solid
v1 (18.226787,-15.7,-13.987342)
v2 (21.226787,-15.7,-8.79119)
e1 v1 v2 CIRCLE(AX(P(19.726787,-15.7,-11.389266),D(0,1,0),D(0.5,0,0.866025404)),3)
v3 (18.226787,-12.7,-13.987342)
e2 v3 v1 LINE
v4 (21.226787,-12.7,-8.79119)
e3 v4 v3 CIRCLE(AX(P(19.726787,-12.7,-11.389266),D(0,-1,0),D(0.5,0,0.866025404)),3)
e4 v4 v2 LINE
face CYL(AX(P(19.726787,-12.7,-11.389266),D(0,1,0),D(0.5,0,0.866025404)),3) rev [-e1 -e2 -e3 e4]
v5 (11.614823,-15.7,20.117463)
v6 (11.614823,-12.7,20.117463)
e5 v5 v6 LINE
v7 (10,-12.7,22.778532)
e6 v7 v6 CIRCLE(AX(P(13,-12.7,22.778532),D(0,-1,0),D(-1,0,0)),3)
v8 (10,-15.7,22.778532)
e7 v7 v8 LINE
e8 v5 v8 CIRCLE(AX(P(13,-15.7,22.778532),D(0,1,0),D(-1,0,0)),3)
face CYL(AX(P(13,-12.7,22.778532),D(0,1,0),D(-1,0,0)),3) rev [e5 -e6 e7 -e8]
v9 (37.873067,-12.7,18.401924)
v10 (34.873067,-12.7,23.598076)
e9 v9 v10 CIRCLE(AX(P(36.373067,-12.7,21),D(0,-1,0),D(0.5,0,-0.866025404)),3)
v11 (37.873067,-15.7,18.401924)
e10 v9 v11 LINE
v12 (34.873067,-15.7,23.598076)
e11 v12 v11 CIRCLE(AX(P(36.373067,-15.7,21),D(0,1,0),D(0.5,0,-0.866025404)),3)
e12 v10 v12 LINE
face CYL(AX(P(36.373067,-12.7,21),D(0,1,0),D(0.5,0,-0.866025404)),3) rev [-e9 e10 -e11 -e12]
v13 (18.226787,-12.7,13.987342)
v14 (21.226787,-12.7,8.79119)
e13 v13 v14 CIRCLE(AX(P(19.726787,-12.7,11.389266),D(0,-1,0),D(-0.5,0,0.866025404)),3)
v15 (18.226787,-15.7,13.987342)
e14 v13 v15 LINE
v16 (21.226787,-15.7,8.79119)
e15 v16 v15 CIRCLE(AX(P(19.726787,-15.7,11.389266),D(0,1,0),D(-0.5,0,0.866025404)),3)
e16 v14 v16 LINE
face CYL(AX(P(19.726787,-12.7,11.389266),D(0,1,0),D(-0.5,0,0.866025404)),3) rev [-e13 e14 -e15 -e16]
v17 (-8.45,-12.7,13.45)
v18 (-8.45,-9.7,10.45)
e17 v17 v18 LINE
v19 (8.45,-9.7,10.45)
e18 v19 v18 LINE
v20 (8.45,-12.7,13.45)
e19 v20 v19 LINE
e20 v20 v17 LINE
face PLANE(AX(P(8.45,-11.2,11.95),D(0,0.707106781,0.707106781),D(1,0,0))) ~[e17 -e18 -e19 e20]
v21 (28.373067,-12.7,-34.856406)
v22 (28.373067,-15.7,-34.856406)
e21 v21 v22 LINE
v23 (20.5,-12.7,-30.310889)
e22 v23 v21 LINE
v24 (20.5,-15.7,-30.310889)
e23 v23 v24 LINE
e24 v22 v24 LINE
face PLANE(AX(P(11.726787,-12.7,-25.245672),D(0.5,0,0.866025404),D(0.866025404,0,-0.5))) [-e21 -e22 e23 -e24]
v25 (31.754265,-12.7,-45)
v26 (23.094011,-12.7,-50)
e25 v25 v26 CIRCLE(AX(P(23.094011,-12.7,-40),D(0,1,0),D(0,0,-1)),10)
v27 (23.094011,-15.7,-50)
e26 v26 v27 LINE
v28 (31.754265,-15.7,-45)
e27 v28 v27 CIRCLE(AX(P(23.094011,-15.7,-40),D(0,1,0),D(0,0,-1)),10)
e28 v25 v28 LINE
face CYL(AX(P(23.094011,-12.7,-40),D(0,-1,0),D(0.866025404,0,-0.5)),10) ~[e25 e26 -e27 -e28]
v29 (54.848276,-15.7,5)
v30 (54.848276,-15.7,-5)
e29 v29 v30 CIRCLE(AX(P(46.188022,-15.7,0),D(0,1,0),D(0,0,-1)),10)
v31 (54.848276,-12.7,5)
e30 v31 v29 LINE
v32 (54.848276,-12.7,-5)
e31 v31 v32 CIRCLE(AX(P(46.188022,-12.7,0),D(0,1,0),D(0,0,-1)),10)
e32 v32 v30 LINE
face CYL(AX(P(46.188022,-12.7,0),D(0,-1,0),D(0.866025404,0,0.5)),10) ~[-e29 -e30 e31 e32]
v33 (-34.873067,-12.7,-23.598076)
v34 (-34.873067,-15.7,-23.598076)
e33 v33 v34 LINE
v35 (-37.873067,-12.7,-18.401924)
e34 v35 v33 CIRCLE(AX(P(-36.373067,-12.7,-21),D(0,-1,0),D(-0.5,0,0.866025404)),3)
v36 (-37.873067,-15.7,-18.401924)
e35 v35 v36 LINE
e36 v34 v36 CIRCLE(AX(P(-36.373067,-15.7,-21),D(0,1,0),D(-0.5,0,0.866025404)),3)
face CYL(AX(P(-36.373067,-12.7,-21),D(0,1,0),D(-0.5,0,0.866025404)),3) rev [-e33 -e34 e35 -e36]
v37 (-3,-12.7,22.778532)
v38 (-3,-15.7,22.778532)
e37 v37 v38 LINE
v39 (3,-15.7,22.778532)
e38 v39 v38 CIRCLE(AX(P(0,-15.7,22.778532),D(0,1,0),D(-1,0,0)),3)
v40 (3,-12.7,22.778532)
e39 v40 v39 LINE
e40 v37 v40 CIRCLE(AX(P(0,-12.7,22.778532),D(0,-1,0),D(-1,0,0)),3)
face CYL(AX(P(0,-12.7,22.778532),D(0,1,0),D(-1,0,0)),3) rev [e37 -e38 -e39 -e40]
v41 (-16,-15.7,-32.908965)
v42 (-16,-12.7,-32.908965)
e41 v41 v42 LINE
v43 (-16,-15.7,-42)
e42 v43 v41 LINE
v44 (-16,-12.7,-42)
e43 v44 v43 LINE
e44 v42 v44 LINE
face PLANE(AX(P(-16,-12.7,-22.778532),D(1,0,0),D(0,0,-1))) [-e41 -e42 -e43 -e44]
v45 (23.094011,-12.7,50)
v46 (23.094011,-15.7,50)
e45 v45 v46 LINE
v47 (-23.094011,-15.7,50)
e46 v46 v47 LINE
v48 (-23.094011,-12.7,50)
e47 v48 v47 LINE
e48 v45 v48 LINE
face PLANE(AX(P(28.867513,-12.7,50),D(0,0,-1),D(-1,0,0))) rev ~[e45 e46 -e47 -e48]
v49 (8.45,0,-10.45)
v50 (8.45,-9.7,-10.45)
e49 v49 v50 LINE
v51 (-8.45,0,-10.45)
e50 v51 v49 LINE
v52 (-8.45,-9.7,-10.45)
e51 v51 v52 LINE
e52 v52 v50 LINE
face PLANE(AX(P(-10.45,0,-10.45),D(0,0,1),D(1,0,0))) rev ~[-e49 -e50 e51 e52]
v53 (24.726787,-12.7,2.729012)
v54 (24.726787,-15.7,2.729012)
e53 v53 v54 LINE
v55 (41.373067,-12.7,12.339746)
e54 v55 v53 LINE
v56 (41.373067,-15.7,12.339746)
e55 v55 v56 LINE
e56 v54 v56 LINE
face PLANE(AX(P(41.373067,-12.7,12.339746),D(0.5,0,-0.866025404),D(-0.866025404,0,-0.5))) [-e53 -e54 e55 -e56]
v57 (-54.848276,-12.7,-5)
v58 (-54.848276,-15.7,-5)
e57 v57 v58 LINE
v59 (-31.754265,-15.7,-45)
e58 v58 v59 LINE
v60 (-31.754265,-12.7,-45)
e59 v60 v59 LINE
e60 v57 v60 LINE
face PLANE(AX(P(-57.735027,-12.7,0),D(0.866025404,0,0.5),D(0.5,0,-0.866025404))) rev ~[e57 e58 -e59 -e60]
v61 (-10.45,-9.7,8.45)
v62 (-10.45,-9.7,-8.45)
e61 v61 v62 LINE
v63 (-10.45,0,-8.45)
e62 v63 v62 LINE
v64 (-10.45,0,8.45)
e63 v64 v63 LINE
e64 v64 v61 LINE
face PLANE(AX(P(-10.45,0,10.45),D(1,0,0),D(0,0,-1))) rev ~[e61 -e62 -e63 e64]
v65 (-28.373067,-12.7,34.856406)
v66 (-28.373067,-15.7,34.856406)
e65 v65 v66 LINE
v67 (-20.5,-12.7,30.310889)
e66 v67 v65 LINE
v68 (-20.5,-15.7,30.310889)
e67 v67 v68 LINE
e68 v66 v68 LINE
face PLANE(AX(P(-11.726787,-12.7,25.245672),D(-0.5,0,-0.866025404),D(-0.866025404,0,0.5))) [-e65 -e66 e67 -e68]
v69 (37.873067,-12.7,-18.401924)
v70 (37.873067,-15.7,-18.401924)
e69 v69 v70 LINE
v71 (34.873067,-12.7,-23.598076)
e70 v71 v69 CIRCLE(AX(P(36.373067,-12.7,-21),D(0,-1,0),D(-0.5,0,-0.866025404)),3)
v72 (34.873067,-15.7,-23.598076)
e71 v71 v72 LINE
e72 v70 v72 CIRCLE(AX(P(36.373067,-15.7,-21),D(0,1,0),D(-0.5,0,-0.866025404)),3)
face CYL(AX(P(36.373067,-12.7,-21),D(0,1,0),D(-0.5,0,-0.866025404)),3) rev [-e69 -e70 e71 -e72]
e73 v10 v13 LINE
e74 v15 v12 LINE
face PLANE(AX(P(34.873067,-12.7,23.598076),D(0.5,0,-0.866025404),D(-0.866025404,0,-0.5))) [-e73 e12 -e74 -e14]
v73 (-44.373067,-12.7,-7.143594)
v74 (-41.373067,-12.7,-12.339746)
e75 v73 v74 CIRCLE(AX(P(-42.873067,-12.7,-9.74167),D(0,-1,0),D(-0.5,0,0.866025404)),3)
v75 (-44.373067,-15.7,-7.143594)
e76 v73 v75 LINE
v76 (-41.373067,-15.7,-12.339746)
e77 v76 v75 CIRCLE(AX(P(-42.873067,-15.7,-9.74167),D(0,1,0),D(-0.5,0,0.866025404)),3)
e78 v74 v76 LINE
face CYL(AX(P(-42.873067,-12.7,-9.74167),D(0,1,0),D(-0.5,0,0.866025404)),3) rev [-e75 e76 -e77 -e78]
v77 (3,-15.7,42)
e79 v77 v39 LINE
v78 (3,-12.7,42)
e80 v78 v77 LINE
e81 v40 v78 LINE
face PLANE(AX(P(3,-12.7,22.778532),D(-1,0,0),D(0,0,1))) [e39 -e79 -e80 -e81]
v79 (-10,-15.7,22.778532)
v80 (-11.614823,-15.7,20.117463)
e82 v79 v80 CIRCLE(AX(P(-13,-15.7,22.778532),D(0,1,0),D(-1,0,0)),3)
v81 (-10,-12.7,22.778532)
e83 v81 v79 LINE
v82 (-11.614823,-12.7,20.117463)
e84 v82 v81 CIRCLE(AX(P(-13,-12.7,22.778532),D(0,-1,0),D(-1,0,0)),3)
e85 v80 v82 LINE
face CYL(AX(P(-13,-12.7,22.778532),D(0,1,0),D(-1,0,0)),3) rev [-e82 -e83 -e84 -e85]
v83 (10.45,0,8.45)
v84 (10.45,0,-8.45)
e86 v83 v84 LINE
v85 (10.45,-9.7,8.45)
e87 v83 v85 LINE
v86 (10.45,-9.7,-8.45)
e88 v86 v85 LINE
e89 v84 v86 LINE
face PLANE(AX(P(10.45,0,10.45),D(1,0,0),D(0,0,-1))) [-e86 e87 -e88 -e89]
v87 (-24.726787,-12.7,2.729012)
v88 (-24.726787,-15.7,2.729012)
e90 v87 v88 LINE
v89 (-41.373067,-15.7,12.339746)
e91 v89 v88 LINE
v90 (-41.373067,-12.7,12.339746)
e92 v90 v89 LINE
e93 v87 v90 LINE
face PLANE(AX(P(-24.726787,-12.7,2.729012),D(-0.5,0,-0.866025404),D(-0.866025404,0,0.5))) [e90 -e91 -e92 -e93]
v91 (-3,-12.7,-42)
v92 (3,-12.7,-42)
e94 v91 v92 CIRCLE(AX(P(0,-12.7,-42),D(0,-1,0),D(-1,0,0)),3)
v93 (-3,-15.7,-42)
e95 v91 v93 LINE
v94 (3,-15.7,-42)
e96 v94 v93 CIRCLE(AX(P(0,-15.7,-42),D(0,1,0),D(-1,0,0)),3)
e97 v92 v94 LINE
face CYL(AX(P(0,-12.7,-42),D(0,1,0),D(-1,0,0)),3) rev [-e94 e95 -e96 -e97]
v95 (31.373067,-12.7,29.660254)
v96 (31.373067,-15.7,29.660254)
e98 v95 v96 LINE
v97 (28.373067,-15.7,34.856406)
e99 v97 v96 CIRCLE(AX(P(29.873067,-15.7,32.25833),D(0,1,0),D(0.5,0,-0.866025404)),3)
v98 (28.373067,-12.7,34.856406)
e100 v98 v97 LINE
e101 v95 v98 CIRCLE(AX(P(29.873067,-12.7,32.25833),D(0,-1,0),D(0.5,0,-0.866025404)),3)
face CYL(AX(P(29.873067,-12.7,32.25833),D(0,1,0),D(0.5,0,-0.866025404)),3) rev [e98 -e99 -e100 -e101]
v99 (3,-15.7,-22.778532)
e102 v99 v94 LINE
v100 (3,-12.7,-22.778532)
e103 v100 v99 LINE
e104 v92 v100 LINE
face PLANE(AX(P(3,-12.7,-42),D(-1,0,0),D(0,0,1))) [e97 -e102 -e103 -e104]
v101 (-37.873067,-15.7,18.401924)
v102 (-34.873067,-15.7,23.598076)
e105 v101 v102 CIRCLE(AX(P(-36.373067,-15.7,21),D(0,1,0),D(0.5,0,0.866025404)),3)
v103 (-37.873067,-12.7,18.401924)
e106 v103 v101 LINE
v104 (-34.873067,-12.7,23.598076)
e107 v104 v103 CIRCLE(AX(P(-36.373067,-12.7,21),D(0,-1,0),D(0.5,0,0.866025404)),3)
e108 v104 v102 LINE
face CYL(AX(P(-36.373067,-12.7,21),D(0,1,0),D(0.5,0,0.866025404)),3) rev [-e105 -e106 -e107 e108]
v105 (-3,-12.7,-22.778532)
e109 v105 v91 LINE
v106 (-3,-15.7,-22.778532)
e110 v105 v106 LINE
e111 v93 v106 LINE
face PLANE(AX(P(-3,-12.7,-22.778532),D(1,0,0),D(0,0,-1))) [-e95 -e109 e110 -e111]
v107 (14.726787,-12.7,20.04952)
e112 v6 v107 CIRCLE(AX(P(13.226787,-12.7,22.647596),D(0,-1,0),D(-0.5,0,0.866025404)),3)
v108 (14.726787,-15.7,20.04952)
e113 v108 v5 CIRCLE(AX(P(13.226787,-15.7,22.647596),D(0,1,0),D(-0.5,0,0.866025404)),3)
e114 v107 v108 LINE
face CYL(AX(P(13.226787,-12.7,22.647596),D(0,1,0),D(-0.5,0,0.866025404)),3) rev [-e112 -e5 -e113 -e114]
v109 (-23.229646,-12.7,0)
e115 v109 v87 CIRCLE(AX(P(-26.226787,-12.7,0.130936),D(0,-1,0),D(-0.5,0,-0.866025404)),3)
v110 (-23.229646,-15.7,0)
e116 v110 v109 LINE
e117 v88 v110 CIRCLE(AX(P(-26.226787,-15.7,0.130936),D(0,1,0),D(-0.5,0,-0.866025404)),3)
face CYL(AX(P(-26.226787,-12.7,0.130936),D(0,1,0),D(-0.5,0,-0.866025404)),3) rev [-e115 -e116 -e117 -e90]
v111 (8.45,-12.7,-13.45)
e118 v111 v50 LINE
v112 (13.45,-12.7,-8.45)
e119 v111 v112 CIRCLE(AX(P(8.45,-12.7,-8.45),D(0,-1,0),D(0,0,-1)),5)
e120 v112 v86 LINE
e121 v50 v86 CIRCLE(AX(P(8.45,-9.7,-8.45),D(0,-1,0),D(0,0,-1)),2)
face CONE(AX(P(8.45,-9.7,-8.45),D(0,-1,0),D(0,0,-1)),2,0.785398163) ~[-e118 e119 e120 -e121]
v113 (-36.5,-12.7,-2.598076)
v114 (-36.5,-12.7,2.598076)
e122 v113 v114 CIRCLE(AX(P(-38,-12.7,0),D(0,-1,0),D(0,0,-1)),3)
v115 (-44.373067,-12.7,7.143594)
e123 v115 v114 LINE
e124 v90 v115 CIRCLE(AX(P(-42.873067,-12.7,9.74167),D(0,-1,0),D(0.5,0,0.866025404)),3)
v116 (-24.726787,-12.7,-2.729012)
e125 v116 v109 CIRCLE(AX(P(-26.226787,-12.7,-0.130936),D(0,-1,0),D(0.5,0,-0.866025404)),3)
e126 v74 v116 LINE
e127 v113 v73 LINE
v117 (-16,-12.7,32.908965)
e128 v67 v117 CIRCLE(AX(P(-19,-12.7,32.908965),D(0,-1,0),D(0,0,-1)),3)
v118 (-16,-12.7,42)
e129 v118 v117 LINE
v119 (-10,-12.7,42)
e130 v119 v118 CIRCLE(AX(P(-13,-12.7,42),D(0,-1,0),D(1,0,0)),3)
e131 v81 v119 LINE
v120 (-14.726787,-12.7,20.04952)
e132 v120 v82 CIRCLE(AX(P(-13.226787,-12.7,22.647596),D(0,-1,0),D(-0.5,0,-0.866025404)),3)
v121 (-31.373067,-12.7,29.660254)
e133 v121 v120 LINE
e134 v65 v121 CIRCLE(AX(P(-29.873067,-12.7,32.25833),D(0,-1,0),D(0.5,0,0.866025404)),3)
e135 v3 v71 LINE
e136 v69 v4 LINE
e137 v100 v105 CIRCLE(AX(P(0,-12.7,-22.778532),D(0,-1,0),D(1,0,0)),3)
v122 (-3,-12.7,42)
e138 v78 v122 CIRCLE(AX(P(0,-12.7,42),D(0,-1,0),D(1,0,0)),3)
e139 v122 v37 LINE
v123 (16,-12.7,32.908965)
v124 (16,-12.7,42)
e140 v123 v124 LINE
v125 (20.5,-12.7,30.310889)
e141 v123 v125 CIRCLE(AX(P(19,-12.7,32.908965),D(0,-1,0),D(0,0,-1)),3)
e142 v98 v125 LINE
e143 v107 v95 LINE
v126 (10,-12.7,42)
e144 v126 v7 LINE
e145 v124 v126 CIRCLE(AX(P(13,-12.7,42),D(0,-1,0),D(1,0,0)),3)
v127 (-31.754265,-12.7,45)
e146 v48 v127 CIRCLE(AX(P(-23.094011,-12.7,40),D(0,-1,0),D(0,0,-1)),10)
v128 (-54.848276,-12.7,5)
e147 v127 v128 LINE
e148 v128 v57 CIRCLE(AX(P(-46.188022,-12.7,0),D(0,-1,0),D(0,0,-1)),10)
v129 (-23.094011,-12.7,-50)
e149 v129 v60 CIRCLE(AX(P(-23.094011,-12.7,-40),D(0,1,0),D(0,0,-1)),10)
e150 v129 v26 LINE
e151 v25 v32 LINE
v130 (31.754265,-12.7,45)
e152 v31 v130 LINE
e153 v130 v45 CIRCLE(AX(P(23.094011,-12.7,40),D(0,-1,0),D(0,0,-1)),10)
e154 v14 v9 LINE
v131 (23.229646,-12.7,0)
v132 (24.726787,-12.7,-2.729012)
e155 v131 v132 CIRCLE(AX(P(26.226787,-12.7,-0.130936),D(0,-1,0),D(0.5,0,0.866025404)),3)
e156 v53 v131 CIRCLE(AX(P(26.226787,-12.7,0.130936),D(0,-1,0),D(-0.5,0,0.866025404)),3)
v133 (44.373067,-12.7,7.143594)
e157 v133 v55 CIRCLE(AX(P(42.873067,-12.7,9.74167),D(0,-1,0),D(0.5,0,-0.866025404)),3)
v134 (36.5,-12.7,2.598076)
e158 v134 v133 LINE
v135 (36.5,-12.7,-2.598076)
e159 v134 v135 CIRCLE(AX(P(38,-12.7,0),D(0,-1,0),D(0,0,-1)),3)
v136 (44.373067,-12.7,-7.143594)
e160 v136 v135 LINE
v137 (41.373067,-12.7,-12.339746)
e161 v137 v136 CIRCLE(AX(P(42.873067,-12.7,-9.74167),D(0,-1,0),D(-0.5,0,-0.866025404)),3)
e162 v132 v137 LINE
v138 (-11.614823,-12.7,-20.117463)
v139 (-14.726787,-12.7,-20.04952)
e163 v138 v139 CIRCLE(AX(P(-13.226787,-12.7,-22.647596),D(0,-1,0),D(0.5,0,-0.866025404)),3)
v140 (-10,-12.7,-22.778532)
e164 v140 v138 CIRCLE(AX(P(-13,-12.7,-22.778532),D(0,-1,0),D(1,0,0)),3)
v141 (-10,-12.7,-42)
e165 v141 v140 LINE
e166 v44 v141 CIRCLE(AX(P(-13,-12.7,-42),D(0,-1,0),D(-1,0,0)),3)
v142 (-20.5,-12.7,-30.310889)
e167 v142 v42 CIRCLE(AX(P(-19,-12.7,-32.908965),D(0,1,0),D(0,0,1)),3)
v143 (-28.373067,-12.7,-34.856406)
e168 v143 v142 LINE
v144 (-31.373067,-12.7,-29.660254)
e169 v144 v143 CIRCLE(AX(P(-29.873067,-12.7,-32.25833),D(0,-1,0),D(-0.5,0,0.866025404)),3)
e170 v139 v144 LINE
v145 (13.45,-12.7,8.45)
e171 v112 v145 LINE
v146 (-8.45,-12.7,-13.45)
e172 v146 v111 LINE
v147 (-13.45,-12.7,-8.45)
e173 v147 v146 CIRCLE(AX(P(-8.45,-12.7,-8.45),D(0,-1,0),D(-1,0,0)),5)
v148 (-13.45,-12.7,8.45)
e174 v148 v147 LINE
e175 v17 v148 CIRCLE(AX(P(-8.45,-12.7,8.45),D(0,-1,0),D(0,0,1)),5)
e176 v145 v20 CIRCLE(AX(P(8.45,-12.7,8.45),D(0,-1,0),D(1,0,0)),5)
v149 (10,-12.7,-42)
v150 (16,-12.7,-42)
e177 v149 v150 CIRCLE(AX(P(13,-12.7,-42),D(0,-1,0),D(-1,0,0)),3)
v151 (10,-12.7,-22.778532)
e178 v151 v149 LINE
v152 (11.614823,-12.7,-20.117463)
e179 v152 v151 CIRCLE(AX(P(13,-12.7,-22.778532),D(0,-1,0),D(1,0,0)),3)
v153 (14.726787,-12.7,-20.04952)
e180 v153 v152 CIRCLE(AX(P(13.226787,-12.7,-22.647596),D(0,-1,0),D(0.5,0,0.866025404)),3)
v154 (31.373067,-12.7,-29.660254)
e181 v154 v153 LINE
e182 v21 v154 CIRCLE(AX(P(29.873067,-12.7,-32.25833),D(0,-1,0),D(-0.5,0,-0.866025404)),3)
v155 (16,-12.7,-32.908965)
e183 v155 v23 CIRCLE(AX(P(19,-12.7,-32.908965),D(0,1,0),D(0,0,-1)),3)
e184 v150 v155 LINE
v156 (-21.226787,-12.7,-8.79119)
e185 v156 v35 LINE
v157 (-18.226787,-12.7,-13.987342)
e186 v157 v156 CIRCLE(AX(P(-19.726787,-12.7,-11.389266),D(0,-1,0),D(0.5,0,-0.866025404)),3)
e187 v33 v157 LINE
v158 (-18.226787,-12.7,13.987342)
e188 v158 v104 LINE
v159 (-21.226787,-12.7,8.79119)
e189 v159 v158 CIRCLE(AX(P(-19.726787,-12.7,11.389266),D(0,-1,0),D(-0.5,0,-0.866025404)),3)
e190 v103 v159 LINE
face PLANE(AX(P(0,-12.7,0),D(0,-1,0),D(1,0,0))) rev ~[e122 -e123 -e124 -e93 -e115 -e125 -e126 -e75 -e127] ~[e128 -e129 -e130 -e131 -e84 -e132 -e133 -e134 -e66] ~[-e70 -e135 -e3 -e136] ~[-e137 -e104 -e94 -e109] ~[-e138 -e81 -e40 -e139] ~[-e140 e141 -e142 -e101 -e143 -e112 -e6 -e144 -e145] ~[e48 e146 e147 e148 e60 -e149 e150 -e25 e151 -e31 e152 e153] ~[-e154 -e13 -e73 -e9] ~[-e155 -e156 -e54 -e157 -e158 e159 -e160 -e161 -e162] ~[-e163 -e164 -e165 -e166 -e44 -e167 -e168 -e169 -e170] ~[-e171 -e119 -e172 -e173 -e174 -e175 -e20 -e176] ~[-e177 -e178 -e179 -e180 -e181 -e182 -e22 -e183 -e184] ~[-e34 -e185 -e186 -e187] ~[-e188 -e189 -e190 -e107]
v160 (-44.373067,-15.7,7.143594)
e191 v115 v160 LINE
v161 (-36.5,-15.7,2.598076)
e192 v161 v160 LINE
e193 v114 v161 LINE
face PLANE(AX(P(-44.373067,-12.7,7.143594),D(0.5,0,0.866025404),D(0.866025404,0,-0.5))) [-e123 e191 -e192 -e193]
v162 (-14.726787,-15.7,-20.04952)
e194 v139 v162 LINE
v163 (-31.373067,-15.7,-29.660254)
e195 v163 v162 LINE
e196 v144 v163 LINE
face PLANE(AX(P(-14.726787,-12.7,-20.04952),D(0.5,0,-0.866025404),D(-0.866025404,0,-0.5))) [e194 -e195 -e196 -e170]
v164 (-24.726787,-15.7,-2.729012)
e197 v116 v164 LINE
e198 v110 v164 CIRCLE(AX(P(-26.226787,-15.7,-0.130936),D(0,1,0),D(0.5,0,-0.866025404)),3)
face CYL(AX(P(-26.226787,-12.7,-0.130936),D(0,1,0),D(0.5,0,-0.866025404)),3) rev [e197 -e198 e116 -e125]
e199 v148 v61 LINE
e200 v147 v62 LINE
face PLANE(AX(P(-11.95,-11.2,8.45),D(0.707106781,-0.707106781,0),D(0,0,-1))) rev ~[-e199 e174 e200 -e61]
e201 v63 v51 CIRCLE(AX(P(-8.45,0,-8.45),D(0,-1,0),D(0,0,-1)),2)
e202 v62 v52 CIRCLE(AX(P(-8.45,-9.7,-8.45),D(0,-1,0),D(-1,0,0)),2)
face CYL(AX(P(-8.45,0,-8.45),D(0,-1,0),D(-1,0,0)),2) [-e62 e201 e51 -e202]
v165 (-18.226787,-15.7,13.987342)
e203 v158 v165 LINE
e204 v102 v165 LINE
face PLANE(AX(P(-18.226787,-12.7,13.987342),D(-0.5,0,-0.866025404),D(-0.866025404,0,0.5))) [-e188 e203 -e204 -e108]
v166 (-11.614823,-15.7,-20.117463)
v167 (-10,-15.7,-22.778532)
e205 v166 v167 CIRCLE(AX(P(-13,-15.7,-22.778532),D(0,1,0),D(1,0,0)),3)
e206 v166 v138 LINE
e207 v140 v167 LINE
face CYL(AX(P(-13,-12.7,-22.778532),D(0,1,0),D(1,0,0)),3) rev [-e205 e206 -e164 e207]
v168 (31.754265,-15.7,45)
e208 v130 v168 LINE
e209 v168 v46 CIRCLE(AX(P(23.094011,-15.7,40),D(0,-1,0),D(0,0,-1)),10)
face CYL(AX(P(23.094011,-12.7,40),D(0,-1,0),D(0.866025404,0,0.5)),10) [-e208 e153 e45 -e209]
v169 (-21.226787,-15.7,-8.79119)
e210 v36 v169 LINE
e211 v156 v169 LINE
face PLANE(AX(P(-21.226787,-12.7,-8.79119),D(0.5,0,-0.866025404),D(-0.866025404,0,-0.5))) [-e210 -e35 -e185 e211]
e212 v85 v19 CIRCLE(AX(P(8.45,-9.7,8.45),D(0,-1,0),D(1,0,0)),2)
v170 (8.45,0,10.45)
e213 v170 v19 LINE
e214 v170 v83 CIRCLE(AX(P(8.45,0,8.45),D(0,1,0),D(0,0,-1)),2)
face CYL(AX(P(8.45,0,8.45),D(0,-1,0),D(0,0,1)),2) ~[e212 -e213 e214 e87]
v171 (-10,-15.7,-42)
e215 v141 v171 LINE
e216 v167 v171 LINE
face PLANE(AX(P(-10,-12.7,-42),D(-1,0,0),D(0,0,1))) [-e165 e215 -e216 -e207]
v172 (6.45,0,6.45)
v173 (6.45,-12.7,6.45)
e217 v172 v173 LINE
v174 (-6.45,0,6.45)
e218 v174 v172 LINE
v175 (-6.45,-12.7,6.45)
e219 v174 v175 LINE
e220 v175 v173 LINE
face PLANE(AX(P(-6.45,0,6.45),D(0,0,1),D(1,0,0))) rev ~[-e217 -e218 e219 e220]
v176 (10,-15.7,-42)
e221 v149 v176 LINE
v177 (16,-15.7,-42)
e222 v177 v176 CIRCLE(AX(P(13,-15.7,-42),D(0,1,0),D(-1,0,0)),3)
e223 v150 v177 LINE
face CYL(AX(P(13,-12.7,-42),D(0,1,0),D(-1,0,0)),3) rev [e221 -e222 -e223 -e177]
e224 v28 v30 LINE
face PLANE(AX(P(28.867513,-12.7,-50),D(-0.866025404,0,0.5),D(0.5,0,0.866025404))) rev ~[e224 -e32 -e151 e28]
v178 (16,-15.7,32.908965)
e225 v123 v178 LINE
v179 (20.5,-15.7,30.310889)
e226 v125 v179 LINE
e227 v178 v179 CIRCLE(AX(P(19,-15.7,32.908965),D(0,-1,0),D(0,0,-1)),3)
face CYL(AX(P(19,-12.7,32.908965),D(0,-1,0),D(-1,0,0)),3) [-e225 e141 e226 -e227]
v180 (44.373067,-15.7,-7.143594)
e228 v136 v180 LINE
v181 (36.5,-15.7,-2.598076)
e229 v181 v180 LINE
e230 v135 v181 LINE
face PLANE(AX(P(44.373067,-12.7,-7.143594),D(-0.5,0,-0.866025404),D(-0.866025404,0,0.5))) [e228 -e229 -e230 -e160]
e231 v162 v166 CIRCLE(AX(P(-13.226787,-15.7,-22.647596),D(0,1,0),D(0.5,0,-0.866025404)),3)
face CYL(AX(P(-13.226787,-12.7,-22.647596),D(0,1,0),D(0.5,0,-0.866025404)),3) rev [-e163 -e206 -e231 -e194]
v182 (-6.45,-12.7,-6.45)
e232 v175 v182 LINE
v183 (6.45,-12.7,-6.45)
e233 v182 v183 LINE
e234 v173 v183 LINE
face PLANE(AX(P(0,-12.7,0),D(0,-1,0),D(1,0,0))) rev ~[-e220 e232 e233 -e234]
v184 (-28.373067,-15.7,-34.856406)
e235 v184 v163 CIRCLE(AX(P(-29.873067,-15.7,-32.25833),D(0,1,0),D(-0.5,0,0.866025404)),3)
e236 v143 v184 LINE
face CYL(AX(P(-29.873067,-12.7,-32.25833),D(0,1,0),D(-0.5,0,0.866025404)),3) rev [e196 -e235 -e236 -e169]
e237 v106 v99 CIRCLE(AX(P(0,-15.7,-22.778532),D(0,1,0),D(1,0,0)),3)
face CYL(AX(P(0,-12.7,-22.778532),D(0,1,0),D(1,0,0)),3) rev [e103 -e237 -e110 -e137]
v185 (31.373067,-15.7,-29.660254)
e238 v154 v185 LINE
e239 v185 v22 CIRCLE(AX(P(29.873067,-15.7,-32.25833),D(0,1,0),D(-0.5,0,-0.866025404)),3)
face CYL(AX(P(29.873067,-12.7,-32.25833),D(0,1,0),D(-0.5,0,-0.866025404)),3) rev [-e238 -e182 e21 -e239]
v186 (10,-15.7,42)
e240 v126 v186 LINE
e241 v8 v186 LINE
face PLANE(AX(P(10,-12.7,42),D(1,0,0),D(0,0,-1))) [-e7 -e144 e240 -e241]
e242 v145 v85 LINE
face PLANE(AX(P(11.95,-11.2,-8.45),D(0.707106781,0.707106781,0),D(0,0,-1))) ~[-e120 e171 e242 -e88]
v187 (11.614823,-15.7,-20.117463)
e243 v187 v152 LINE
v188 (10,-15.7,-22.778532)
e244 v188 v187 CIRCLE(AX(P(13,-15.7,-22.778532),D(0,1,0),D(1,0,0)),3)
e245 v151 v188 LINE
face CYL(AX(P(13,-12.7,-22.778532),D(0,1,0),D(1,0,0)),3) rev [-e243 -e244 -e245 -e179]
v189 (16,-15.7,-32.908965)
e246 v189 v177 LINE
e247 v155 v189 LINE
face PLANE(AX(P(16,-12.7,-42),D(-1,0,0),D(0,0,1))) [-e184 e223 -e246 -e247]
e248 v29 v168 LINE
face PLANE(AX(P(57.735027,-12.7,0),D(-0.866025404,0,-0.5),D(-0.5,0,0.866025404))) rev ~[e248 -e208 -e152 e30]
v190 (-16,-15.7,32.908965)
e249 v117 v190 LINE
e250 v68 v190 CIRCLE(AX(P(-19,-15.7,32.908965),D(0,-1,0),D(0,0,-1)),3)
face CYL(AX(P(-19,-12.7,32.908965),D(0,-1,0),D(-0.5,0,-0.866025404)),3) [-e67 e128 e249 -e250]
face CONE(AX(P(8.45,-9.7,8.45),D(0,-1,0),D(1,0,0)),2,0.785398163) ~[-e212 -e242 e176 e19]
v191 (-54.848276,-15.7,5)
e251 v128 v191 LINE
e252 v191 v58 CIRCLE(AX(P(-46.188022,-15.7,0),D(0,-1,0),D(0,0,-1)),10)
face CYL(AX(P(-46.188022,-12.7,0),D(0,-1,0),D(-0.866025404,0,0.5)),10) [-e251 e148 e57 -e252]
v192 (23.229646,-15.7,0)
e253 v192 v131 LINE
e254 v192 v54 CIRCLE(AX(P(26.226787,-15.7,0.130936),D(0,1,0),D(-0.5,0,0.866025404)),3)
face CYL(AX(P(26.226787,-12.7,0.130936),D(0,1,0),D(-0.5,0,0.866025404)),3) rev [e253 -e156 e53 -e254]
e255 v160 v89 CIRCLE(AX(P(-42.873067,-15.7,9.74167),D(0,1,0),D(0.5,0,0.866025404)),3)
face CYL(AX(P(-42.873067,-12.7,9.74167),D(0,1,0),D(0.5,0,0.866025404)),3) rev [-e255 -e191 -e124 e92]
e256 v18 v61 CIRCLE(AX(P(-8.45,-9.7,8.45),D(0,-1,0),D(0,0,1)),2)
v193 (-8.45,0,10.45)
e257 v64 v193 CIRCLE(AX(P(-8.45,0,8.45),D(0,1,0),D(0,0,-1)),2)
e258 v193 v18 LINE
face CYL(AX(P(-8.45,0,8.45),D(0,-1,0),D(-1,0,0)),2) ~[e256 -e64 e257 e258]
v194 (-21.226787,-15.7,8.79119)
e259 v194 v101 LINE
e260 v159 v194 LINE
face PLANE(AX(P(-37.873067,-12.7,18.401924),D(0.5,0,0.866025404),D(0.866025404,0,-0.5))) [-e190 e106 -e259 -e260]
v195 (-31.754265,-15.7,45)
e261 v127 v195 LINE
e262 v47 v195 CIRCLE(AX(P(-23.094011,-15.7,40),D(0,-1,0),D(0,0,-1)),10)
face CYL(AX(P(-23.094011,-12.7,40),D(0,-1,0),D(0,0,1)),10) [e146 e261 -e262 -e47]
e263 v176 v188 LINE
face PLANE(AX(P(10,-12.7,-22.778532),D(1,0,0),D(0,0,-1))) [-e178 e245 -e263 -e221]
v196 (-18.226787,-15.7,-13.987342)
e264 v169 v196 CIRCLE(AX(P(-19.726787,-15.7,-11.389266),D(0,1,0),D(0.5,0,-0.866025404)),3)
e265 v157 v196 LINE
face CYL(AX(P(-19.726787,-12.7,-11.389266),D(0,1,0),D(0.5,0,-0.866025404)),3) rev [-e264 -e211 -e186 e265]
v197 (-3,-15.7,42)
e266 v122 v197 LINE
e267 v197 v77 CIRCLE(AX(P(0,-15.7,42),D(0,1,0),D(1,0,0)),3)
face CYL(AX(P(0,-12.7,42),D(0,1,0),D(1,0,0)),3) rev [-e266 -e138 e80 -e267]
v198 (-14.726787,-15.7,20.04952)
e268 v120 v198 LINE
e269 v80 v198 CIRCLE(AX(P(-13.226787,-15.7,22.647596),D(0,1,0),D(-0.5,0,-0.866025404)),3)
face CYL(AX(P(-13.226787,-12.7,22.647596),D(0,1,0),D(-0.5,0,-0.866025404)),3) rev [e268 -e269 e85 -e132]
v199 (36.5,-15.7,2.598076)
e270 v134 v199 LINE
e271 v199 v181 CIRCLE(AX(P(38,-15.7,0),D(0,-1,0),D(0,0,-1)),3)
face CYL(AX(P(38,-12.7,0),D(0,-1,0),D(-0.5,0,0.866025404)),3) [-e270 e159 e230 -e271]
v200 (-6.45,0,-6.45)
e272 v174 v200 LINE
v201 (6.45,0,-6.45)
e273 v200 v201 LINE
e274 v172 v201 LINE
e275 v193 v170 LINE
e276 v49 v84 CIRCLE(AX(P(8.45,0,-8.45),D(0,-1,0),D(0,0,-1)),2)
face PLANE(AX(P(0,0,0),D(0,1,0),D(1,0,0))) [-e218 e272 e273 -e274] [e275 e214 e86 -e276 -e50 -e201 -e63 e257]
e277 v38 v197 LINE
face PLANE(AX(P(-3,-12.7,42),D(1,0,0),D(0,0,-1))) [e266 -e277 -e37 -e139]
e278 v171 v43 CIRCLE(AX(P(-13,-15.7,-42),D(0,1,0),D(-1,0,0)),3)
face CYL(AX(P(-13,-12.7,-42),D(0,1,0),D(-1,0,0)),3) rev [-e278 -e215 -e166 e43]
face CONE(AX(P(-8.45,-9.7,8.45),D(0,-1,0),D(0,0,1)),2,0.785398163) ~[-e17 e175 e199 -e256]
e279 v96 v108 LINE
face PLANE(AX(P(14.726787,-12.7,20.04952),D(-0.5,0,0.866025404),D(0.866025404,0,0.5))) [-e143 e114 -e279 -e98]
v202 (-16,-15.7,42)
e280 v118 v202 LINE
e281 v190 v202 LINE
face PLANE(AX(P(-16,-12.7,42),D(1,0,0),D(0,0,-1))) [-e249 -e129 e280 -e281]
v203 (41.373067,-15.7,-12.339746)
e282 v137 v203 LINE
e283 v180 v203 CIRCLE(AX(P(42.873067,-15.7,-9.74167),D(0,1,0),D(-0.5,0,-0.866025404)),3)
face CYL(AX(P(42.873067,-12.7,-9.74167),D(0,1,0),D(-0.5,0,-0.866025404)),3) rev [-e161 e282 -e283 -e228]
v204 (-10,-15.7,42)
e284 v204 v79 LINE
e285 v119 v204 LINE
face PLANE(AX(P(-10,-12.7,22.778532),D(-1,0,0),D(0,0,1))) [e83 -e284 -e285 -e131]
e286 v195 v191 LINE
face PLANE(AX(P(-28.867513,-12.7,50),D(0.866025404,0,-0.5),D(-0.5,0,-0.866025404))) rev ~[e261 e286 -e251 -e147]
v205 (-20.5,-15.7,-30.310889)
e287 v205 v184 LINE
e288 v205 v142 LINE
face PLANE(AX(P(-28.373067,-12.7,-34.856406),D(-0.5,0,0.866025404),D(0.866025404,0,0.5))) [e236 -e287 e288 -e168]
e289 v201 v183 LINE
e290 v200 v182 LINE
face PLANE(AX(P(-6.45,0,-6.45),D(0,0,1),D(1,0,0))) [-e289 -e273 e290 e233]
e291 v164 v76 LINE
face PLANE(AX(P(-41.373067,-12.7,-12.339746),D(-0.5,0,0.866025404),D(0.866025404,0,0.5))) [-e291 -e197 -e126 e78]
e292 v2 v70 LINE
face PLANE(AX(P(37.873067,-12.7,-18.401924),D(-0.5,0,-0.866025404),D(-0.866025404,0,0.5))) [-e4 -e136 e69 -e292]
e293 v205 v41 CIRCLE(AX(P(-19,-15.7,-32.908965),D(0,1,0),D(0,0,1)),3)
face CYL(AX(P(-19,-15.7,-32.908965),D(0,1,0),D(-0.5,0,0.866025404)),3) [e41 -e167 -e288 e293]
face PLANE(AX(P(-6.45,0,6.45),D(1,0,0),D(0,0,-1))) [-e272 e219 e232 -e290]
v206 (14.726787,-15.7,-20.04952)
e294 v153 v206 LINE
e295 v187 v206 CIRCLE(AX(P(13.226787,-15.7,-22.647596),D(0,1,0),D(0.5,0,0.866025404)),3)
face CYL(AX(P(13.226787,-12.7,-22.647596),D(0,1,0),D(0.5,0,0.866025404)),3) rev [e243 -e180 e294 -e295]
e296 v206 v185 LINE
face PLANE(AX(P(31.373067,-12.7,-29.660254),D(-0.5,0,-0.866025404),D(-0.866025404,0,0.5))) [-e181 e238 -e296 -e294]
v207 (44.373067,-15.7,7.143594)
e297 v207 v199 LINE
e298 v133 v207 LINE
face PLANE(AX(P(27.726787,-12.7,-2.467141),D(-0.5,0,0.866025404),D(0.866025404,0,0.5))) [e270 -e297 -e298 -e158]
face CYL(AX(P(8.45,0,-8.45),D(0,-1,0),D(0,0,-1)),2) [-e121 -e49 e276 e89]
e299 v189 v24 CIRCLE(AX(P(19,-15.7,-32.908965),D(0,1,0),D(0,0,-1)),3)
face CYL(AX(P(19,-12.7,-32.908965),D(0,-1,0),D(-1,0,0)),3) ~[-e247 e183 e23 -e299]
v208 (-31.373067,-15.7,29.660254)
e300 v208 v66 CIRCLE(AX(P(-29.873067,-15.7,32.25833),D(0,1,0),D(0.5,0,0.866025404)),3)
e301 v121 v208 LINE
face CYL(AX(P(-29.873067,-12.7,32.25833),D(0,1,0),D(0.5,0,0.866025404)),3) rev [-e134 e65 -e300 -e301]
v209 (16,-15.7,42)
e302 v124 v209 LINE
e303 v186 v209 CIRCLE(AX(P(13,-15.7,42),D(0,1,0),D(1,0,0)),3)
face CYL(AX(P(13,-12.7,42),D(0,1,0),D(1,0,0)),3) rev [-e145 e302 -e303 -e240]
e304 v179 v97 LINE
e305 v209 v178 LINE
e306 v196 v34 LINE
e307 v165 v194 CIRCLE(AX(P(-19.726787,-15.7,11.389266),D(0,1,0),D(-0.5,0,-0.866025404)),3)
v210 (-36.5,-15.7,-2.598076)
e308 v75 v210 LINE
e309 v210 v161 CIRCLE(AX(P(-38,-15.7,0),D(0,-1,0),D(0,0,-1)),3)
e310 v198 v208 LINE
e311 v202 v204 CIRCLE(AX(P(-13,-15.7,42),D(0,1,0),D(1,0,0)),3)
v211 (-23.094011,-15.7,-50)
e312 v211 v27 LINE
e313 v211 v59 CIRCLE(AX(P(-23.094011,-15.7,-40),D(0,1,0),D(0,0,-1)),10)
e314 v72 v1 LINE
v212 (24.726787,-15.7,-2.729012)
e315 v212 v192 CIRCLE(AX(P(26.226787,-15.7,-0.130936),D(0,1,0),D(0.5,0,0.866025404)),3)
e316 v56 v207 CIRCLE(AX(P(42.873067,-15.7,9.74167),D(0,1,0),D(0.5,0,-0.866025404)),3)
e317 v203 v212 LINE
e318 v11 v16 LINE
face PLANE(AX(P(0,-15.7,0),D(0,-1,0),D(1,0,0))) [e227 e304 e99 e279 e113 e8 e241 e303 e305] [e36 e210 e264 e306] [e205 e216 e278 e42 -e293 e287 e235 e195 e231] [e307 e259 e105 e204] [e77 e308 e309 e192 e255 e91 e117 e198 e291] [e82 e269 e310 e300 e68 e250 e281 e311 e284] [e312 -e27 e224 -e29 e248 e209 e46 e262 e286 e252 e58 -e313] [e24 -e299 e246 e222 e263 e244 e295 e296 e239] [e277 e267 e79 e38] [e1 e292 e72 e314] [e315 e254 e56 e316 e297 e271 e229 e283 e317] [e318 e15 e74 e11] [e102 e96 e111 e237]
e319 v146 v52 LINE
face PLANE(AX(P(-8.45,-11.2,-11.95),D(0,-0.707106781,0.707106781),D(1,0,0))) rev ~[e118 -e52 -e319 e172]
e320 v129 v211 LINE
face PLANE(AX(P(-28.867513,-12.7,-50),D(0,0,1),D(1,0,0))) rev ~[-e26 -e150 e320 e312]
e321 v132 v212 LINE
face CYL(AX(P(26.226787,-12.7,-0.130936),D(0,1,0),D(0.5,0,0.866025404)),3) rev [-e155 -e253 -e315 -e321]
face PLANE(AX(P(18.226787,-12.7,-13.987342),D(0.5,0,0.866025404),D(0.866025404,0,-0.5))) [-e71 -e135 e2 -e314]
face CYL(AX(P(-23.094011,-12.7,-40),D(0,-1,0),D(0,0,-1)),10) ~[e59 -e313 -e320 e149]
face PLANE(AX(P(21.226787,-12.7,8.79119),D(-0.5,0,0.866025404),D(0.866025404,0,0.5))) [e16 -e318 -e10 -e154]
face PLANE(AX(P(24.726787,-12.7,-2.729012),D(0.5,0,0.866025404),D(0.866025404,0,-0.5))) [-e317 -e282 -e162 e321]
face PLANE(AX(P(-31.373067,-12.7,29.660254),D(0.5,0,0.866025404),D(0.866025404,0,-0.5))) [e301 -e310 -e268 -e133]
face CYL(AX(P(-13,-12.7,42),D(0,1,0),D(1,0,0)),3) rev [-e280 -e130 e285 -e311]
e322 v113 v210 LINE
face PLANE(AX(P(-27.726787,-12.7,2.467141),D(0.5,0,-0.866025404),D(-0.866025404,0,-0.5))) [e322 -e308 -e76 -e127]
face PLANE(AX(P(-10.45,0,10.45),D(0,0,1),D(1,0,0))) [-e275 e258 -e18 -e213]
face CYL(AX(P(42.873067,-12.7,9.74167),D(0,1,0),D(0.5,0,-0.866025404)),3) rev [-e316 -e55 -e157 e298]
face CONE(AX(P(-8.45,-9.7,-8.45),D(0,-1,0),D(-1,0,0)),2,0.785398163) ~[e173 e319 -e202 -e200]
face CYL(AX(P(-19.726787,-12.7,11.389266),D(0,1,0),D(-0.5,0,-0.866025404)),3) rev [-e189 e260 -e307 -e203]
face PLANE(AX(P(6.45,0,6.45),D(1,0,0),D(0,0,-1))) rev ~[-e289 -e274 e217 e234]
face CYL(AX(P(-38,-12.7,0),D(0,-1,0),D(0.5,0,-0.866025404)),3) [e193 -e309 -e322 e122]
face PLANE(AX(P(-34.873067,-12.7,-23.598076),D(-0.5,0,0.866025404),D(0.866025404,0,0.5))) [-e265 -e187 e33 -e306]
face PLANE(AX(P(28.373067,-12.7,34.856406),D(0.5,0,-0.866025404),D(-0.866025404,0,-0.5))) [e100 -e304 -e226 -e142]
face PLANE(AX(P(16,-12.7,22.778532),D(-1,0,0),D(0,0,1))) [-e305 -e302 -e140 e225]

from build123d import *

# Parameters (mm, degrees)
SKETCH1_W                 = 20.9
SKETCH1_H                 = 20.9
SKETCH1_W_2               = 12.9
SKETCH1_H_2               = 12.9
BOSS_EXTRUDE1_DEPTH       = 12.7
BOSS_EXTRUDE2_DEPTH       = 3
CUT_EXTRUDE1_DEPTH        = 4
LPATTERN1_COUNT           = 2
LPATTERN1_PITCH           = 13
LPATTERN1_COL_COUNT       = 2
LPATTERN1_COL_PITCH       = 13
CIRPATTERN1_COUNT         = 6
CIRPATTERN1_COPY_1_DEPTH  = 4
CIRPATTERN1_COPY_2_DEPTH  = 4
CIRPATTERN1_COPY_3_DEPTH  = 4
CIRPATTERN1_COPY_4_DEPTH  = 4
CIRPATTERN1_COPY_5_DEPTH  = 4
CIRPATTERN1_COPY_6_DEPTH  = 4
CIRPATTERN1_COPY_7_DEPTH  = 4
CIRPATTERN1_COPY_8_DEPTH  = 4
CIRPATTERN1_COPY_9_DEPTH  = 4
CIRPATTERN1_COPY_10_DEPTH = 4
FILLET1_R                 = 3
FILLET2_R                 = 10
FILLET3_R                 = 2
CHAMFER1_SIZE             = 3


with BuildPart() as part:
    # Sketch1 → Boss-Extrude1 (new body)
    with BuildSketch(Plane(origin=(0, 0, 0), x_dir=(1, 0, 0), z_dir=(0, 1, 0))):
        Rectangle(SKETCH1_W, SKETCH1_H)
        Rectangle(SKETCH1_W_2, SKETCH1_H_2, mode=Mode.SUBTRACT)
    extrude(amount=-BOSS_EXTRUDE1_DEPTH)

    # Sketch2 → Boss-Extrude2 (add)
    with BuildSketch(Plane.XZ.offset(12.7)):
        Polygon((57.735026919, 0), (28.867513459, 50), (-28.867513459, 50), (-57.735026919, 0), (-28.867513459, -50), (28.867513459, -50), align=None)
    extrude(amount=BOSS_EXTRUDE2_DEPTH)

    # Sketch3 → Cut-Extrude1 (cut, through all)
    with BuildSketch(Plane(origin=(0, -12.7, 0), x_dir=(1, 0, 0), z_dir=(0, 1, 0))):
        with BuildLine():
            Line((-34.873066959, 23.598076211), (-18.226787136, 13.987342075))
            ThreePointArc((-18.226787136, 13.987342075), (-17.128710925, 9.889265863), (-21.226787136, 8.791189652))
            Line((-21.226787136, 8.791189652), (-37.873066959, 18.401923789))
            ThreePointArc((-37.873066959, 18.401923789), (-38.97114317, 22.5), (-34.873066959, 23.598076211))
        make_face()
    cut_extrude1 = extrude(amount=-CUT_EXTRUDE1_DEPTH, mode=Mode.SUBTRACT)

    # LPattern1: Cut-Extrude1 ×2
    with Locations(*[Vector(-0.5, 0, 0.866025404) * (i * LPATTERN1_PITCH) for i in range(1, LPATTERN1_COUNT)]):
        add(cut_extrude1, mode=Mode.SUBTRACT)

    # LPattern1 col: Cut-Extrude1 ×2
    with Locations(*[Vector(0.5, 0, -0.866025404) * (i * LPATTERN1_COL_PITCH) for i in range(1, LPATTERN1_COL_COUNT)]):
        add(cut_extrude1, mode=Mode.SUBTRACT)

    # CirPattern1: Cut-Extrude1 ×6 about axis
    cirpattern1_axis = Axis((0, 0, 0), (0, 1, 0))
    for i in range(1, CIRPATTERN1_COUNT):
        add(cut_extrude1.rotate(cirpattern1_axis, i * 360 / CIRPATTERN1_COUNT), mode=Mode.SUBTRACT)

    # CirPattern1 copy 1 sketch → CirPattern1 copy 1 (cut, through all)
    with BuildSketch(Plane(origin=(6.5, -12.7, 11.258330249), x_dir=(0.5, 0, -0.866025404), z_dir=(0, 1, 0))):
        with BuildLine():
            Line((-34.873066959, 23.598076211), (-18.226787136, 13.987342075))
            ThreePointArc((-18.226787136, 13.987342075), (-17.128710925, 9.889265863), (-21.226787136, 8.791189652))
            Line((-21.226787136, 8.791189652), (-37.873066959, 18.401923789))
            ThreePointArc((-37.873066959, 18.401923789), (-38.97114317, 22.5), (-34.873066959, 23.598076211))
        make_face()
    extrude(amount=-CIRPATTERN1_COPY_1_DEPTH, mode=Mode.SUBTRACT)

    # CirPattern1 copy 2 sketch → CirPattern1 copy 2 (cut, through all)
    with BuildSketch(Plane(origin=(13, -12.7, 0), x_dir=(-0.5, 0, -0.866025404), z_dir=(0, 1, 0))):
        with BuildLine():
            Line((-34.873066959, 23.598076211), (-18.226787136, 13.987342075))
            ThreePointArc((-18.226787136, 13.987342075), (-17.128710925, 9.889265863), (-21.226787136, 8.791189652))
            Line((-21.226787136, 8.791189652), (-37.873066959, 18.401923789))
            ThreePointArc((-37.873066959, 18.401923789), (-38.97114317, 22.5), (-34.873066959, 23.598076211))
        make_face()
    extrude(amount=-CIRPATTERN1_COPY_2_DEPTH, mode=Mode.SUBTRACT)

    # CirPattern1 copy 3 sketch → CirPattern1 copy 3 (cut, through all)
    with BuildSketch(Plane(origin=(6.5, -12.7, -11.258330249), x_dir=(-1, 0, 0), z_dir=(0, 1, 0))):
        with BuildLine():
            Line((-34.873066959, 23.598076211), (-18.226787136, 13.987342075))
            ThreePointArc((-18.226787136, 13.987342075), (-17.128710925, 9.889265863), (-21.226787136, 8.791189652))
            Line((-21.226787136, 8.791189652), (-37.873066959, 18.401923789))
            ThreePointArc((-37.873066959, 18.401923789), (-38.97114317, 22.5), (-34.873066959, 23.598076211))
        make_face()
    extrude(amount=-CIRPATTERN1_COPY_3_DEPTH, mode=Mode.SUBTRACT)

    # CirPattern1 copy 4 sketch → CirPattern1 copy 4 (cut, through all)
    with BuildSketch(Plane(origin=(-6.5, -12.7, -11.258330249), x_dir=(-0.5, 0, 0.866025404), z_dir=(0, 1, 0))):
        with BuildLine():
            Line((-34.873066959, 23.598076211), (-18.226787136, 13.987342075))
            ThreePointArc((-18.226787136, 13.987342075), (-17.128710925, 9.889265863), (-21.226787136, 8.791189652))
            Line((-21.226787136, 8.791189652), (-37.873066959, 18.401923789))
            ThreePointArc((-37.873066959, 18.401923789), (-38.97114317, 22.5), (-34.873066959, 23.598076211))
        make_face()
    extrude(amount=-CIRPATTERN1_COPY_4_DEPTH, mode=Mode.SUBTRACT)

    # CirPattern1 copy 5 sketch → CirPattern1 copy 5 (cut, through all)
    with BuildSketch(Plane(origin=(-13, -12.7, 0), x_dir=(0.5, 0, 0.866025404), z_dir=(0, 1, 0))):
        with BuildLine():
            Line((-34.873066959, 23.598076211), (-18.226787136, 13.987342075))
            ThreePointArc((-18.226787136, 13.987342075), (-17.128710925, 9.889265863), (-21.226787136, 8.791189652))
            Line((-21.226787136, 8.791189652), (-37.873066959, 18.401923789))
            ThreePointArc((-37.873066959, 18.401923789), (-38.97114317, 22.5), (-34.873066959, 23.598076211))
        make_face()
    extrude(amount=-CIRPATTERN1_COPY_5_DEPTH, mode=Mode.SUBTRACT)

    # CirPattern1 copy 6 sketch → CirPattern1 copy 6 (cut, through all)
    with BuildSketch(Plane(origin=(-6.5, -12.7, -11.258330249), x_dir=(0.5, 0, -0.866025404), z_dir=(0, 1, 0))):
        with BuildLine():
            Line((-34.873066959, 23.598076211), (-18.226787136, 13.987342075))
            ThreePointArc((-18.226787136, 13.987342075), (-17.128710925, 9.889265863), (-21.226787136, 8.791189652))
            Line((-21.226787136, 8.791189652), (-37.873066959, 18.401923789))
            ThreePointArc((-37.873066959, 18.401923789), (-38.97114317, 22.5), (-34.873066959, 23.598076211))
        make_face()
    extrude(amount=-CIRPATTERN1_COPY_6_DEPTH, mode=Mode.SUBTRACT)

    # CirPattern1 copy 7 sketch → CirPattern1 copy 7 (cut, through all)
    with BuildSketch(Plane(origin=(-13, -12.7, 0), x_dir=(-0.5, 0, -0.866025404), z_dir=(0, 1, 0))):
        with BuildLine():
            Line((-34.873066959, 23.598076211), (-18.226787136, 13.987342075))
            ThreePointArc((-18.226787136, 13.987342075), (-17.128710925, 9.889265863), (-21.226787136, 8.791189652))
            Line((-21.226787136, 8.791189652), (-37.873066959, 18.401923789))
            ThreePointArc((-37.873066959, 18.401923789), (-38.97114317, 22.5), (-34.873066959, 23.598076211))
        make_face()
    extrude(amount=-CIRPATTERN1_COPY_7_DEPTH, mode=Mode.SUBTRACT)

    # CirPattern1 copy 8 sketch → CirPattern1 copy 8 (cut, through all)
    with BuildSketch(Plane(origin=(-6.5, -12.7, 11.258330249), x_dir=(-1, 0, 0), z_dir=(0, 1, 0))):
        with BuildLine():
            Line((-34.873066959, 23.598076211), (-18.226787136, 13.987342075))
            ThreePointArc((-18.226787136, 13.987342075), (-17.128710925, 9.889265863), (-21.226787136, 8.791189652))
            Line((-21.226787136, 8.791189652), (-37.873066959, 18.401923789))
            ThreePointArc((-37.873066959, 18.401923789), (-38.97114317, 22.5), (-34.873066959, 23.598076211))
        make_face()
    extrude(amount=-CIRPATTERN1_COPY_8_DEPTH, mode=Mode.SUBTRACT)

    # CirPattern1 copy 9 sketch → CirPattern1 copy 9 (cut, through all)
    with BuildSketch(Plane(origin=(6.5, -12.7, 11.258330249), x_dir=(-0.5, 0, 0.866025404), z_dir=(0, 1, 0))):
        with BuildLine():
            Line((-34.873066959, 23.598076211), (-18.226787136, 13.987342075))
            ThreePointArc((-18.226787136, 13.987342075), (-17.128710925, 9.889265863), (-21.226787136, 8.791189652))
            Line((-21.226787136, 8.791189652), (-37.873066959, 18.401923789))
            ThreePointArc((-37.873066959, 18.401923789), (-38.97114317, 22.5), (-34.873066959, 23.598076211))
        make_face()
    extrude(amount=-CIRPATTERN1_COPY_9_DEPTH, mode=Mode.SUBTRACT)

    # CirPattern1 copy 10 sketch → CirPattern1 copy 10 (cut, through all)
    with BuildSketch(Plane(origin=(13, -12.7, 0), x_dir=(0.5, 0, 0.866025404), z_dir=(0, 1, 0))):
        with BuildLine():
            Line((-34.873066959, 23.598076211), (-18.226787136, 13.987342075))
            ThreePointArc((-18.226787136, 13.987342075), (-17.128710925, 9.889265863), (-21.226787136, 8.791189652))
            Line((-21.226787136, 8.791189652), (-37.873066959, 18.401923789))
            ThreePointArc((-37.873066959, 18.401923789), (-38.97114317, 22.5), (-34.873066959, 23.598076211))
        make_face()
    extrude(amount=-CIRPATTERN1_COPY_10_DEPTH, mode=Mode.SUBTRACT)

    # Fillet1
    fillet1_edges = [part.edges().sort_by_distance(p)[0] for p in [
        (-16, -14.2, -27.712812921),
        (-16, -14.2, 27.712812921),
        (16, -14.2, 27.712812921),
        (32, -14.2, 0),
        (16, -14.2, -27.712812921),
        (-32, -14.2, 0),
    ]]
    fillet(fillet1_edges, radius=FILLET1_R)

    # Fillet2
    fillet2_edges = [part.edges().sort_by_distance(p)[0] for p in [
        (28.867513459, -14.2, -50),
        (57.735026919, -14.2, 0),
        (28.867513459, -14.2, 50),
        (-28.867513459, -14.2, 50),
        (-57.735026919, -14.2, 0),
        (-28.867513459, -14.2, -50),
    ]]
    fillet(fillet2_edges, radius=FILLET2_R)

    # Fillet3
    fillet3_edges = [part.edges().sort_by_distance(p)[0] for p in [
        (-10.45, -6.35, -10.45),
        (10.45, -6.35, -10.45),
        (10.45, -6.35, 10.45),
        (-10.45, -6.35, 10.45),
    ]]
    fillet(fillet3_edges, radius=FILLET3_R)

    # Chamfer1
    chamfer1_edges = [part.edges().sort_by_distance(p)[0] for p in [
        (-10.45, -12.7, 0),
        (0, -12.7, 10.45),
        (10.45, -12.7, 0),
        (0, -12.7, -10.45),
        (-9.864213562, -12.7, 9.864213562),
        (9.864213562, -12.7, 9.864213562),
        (9.864213562, -12.7, -9.864213562),
        (-9.864213562, -12.7, -9.864213562),
    ]]
    chamfer(chamfer1_edges, length=CHAMFER1_SIZE)


solid = part.part
